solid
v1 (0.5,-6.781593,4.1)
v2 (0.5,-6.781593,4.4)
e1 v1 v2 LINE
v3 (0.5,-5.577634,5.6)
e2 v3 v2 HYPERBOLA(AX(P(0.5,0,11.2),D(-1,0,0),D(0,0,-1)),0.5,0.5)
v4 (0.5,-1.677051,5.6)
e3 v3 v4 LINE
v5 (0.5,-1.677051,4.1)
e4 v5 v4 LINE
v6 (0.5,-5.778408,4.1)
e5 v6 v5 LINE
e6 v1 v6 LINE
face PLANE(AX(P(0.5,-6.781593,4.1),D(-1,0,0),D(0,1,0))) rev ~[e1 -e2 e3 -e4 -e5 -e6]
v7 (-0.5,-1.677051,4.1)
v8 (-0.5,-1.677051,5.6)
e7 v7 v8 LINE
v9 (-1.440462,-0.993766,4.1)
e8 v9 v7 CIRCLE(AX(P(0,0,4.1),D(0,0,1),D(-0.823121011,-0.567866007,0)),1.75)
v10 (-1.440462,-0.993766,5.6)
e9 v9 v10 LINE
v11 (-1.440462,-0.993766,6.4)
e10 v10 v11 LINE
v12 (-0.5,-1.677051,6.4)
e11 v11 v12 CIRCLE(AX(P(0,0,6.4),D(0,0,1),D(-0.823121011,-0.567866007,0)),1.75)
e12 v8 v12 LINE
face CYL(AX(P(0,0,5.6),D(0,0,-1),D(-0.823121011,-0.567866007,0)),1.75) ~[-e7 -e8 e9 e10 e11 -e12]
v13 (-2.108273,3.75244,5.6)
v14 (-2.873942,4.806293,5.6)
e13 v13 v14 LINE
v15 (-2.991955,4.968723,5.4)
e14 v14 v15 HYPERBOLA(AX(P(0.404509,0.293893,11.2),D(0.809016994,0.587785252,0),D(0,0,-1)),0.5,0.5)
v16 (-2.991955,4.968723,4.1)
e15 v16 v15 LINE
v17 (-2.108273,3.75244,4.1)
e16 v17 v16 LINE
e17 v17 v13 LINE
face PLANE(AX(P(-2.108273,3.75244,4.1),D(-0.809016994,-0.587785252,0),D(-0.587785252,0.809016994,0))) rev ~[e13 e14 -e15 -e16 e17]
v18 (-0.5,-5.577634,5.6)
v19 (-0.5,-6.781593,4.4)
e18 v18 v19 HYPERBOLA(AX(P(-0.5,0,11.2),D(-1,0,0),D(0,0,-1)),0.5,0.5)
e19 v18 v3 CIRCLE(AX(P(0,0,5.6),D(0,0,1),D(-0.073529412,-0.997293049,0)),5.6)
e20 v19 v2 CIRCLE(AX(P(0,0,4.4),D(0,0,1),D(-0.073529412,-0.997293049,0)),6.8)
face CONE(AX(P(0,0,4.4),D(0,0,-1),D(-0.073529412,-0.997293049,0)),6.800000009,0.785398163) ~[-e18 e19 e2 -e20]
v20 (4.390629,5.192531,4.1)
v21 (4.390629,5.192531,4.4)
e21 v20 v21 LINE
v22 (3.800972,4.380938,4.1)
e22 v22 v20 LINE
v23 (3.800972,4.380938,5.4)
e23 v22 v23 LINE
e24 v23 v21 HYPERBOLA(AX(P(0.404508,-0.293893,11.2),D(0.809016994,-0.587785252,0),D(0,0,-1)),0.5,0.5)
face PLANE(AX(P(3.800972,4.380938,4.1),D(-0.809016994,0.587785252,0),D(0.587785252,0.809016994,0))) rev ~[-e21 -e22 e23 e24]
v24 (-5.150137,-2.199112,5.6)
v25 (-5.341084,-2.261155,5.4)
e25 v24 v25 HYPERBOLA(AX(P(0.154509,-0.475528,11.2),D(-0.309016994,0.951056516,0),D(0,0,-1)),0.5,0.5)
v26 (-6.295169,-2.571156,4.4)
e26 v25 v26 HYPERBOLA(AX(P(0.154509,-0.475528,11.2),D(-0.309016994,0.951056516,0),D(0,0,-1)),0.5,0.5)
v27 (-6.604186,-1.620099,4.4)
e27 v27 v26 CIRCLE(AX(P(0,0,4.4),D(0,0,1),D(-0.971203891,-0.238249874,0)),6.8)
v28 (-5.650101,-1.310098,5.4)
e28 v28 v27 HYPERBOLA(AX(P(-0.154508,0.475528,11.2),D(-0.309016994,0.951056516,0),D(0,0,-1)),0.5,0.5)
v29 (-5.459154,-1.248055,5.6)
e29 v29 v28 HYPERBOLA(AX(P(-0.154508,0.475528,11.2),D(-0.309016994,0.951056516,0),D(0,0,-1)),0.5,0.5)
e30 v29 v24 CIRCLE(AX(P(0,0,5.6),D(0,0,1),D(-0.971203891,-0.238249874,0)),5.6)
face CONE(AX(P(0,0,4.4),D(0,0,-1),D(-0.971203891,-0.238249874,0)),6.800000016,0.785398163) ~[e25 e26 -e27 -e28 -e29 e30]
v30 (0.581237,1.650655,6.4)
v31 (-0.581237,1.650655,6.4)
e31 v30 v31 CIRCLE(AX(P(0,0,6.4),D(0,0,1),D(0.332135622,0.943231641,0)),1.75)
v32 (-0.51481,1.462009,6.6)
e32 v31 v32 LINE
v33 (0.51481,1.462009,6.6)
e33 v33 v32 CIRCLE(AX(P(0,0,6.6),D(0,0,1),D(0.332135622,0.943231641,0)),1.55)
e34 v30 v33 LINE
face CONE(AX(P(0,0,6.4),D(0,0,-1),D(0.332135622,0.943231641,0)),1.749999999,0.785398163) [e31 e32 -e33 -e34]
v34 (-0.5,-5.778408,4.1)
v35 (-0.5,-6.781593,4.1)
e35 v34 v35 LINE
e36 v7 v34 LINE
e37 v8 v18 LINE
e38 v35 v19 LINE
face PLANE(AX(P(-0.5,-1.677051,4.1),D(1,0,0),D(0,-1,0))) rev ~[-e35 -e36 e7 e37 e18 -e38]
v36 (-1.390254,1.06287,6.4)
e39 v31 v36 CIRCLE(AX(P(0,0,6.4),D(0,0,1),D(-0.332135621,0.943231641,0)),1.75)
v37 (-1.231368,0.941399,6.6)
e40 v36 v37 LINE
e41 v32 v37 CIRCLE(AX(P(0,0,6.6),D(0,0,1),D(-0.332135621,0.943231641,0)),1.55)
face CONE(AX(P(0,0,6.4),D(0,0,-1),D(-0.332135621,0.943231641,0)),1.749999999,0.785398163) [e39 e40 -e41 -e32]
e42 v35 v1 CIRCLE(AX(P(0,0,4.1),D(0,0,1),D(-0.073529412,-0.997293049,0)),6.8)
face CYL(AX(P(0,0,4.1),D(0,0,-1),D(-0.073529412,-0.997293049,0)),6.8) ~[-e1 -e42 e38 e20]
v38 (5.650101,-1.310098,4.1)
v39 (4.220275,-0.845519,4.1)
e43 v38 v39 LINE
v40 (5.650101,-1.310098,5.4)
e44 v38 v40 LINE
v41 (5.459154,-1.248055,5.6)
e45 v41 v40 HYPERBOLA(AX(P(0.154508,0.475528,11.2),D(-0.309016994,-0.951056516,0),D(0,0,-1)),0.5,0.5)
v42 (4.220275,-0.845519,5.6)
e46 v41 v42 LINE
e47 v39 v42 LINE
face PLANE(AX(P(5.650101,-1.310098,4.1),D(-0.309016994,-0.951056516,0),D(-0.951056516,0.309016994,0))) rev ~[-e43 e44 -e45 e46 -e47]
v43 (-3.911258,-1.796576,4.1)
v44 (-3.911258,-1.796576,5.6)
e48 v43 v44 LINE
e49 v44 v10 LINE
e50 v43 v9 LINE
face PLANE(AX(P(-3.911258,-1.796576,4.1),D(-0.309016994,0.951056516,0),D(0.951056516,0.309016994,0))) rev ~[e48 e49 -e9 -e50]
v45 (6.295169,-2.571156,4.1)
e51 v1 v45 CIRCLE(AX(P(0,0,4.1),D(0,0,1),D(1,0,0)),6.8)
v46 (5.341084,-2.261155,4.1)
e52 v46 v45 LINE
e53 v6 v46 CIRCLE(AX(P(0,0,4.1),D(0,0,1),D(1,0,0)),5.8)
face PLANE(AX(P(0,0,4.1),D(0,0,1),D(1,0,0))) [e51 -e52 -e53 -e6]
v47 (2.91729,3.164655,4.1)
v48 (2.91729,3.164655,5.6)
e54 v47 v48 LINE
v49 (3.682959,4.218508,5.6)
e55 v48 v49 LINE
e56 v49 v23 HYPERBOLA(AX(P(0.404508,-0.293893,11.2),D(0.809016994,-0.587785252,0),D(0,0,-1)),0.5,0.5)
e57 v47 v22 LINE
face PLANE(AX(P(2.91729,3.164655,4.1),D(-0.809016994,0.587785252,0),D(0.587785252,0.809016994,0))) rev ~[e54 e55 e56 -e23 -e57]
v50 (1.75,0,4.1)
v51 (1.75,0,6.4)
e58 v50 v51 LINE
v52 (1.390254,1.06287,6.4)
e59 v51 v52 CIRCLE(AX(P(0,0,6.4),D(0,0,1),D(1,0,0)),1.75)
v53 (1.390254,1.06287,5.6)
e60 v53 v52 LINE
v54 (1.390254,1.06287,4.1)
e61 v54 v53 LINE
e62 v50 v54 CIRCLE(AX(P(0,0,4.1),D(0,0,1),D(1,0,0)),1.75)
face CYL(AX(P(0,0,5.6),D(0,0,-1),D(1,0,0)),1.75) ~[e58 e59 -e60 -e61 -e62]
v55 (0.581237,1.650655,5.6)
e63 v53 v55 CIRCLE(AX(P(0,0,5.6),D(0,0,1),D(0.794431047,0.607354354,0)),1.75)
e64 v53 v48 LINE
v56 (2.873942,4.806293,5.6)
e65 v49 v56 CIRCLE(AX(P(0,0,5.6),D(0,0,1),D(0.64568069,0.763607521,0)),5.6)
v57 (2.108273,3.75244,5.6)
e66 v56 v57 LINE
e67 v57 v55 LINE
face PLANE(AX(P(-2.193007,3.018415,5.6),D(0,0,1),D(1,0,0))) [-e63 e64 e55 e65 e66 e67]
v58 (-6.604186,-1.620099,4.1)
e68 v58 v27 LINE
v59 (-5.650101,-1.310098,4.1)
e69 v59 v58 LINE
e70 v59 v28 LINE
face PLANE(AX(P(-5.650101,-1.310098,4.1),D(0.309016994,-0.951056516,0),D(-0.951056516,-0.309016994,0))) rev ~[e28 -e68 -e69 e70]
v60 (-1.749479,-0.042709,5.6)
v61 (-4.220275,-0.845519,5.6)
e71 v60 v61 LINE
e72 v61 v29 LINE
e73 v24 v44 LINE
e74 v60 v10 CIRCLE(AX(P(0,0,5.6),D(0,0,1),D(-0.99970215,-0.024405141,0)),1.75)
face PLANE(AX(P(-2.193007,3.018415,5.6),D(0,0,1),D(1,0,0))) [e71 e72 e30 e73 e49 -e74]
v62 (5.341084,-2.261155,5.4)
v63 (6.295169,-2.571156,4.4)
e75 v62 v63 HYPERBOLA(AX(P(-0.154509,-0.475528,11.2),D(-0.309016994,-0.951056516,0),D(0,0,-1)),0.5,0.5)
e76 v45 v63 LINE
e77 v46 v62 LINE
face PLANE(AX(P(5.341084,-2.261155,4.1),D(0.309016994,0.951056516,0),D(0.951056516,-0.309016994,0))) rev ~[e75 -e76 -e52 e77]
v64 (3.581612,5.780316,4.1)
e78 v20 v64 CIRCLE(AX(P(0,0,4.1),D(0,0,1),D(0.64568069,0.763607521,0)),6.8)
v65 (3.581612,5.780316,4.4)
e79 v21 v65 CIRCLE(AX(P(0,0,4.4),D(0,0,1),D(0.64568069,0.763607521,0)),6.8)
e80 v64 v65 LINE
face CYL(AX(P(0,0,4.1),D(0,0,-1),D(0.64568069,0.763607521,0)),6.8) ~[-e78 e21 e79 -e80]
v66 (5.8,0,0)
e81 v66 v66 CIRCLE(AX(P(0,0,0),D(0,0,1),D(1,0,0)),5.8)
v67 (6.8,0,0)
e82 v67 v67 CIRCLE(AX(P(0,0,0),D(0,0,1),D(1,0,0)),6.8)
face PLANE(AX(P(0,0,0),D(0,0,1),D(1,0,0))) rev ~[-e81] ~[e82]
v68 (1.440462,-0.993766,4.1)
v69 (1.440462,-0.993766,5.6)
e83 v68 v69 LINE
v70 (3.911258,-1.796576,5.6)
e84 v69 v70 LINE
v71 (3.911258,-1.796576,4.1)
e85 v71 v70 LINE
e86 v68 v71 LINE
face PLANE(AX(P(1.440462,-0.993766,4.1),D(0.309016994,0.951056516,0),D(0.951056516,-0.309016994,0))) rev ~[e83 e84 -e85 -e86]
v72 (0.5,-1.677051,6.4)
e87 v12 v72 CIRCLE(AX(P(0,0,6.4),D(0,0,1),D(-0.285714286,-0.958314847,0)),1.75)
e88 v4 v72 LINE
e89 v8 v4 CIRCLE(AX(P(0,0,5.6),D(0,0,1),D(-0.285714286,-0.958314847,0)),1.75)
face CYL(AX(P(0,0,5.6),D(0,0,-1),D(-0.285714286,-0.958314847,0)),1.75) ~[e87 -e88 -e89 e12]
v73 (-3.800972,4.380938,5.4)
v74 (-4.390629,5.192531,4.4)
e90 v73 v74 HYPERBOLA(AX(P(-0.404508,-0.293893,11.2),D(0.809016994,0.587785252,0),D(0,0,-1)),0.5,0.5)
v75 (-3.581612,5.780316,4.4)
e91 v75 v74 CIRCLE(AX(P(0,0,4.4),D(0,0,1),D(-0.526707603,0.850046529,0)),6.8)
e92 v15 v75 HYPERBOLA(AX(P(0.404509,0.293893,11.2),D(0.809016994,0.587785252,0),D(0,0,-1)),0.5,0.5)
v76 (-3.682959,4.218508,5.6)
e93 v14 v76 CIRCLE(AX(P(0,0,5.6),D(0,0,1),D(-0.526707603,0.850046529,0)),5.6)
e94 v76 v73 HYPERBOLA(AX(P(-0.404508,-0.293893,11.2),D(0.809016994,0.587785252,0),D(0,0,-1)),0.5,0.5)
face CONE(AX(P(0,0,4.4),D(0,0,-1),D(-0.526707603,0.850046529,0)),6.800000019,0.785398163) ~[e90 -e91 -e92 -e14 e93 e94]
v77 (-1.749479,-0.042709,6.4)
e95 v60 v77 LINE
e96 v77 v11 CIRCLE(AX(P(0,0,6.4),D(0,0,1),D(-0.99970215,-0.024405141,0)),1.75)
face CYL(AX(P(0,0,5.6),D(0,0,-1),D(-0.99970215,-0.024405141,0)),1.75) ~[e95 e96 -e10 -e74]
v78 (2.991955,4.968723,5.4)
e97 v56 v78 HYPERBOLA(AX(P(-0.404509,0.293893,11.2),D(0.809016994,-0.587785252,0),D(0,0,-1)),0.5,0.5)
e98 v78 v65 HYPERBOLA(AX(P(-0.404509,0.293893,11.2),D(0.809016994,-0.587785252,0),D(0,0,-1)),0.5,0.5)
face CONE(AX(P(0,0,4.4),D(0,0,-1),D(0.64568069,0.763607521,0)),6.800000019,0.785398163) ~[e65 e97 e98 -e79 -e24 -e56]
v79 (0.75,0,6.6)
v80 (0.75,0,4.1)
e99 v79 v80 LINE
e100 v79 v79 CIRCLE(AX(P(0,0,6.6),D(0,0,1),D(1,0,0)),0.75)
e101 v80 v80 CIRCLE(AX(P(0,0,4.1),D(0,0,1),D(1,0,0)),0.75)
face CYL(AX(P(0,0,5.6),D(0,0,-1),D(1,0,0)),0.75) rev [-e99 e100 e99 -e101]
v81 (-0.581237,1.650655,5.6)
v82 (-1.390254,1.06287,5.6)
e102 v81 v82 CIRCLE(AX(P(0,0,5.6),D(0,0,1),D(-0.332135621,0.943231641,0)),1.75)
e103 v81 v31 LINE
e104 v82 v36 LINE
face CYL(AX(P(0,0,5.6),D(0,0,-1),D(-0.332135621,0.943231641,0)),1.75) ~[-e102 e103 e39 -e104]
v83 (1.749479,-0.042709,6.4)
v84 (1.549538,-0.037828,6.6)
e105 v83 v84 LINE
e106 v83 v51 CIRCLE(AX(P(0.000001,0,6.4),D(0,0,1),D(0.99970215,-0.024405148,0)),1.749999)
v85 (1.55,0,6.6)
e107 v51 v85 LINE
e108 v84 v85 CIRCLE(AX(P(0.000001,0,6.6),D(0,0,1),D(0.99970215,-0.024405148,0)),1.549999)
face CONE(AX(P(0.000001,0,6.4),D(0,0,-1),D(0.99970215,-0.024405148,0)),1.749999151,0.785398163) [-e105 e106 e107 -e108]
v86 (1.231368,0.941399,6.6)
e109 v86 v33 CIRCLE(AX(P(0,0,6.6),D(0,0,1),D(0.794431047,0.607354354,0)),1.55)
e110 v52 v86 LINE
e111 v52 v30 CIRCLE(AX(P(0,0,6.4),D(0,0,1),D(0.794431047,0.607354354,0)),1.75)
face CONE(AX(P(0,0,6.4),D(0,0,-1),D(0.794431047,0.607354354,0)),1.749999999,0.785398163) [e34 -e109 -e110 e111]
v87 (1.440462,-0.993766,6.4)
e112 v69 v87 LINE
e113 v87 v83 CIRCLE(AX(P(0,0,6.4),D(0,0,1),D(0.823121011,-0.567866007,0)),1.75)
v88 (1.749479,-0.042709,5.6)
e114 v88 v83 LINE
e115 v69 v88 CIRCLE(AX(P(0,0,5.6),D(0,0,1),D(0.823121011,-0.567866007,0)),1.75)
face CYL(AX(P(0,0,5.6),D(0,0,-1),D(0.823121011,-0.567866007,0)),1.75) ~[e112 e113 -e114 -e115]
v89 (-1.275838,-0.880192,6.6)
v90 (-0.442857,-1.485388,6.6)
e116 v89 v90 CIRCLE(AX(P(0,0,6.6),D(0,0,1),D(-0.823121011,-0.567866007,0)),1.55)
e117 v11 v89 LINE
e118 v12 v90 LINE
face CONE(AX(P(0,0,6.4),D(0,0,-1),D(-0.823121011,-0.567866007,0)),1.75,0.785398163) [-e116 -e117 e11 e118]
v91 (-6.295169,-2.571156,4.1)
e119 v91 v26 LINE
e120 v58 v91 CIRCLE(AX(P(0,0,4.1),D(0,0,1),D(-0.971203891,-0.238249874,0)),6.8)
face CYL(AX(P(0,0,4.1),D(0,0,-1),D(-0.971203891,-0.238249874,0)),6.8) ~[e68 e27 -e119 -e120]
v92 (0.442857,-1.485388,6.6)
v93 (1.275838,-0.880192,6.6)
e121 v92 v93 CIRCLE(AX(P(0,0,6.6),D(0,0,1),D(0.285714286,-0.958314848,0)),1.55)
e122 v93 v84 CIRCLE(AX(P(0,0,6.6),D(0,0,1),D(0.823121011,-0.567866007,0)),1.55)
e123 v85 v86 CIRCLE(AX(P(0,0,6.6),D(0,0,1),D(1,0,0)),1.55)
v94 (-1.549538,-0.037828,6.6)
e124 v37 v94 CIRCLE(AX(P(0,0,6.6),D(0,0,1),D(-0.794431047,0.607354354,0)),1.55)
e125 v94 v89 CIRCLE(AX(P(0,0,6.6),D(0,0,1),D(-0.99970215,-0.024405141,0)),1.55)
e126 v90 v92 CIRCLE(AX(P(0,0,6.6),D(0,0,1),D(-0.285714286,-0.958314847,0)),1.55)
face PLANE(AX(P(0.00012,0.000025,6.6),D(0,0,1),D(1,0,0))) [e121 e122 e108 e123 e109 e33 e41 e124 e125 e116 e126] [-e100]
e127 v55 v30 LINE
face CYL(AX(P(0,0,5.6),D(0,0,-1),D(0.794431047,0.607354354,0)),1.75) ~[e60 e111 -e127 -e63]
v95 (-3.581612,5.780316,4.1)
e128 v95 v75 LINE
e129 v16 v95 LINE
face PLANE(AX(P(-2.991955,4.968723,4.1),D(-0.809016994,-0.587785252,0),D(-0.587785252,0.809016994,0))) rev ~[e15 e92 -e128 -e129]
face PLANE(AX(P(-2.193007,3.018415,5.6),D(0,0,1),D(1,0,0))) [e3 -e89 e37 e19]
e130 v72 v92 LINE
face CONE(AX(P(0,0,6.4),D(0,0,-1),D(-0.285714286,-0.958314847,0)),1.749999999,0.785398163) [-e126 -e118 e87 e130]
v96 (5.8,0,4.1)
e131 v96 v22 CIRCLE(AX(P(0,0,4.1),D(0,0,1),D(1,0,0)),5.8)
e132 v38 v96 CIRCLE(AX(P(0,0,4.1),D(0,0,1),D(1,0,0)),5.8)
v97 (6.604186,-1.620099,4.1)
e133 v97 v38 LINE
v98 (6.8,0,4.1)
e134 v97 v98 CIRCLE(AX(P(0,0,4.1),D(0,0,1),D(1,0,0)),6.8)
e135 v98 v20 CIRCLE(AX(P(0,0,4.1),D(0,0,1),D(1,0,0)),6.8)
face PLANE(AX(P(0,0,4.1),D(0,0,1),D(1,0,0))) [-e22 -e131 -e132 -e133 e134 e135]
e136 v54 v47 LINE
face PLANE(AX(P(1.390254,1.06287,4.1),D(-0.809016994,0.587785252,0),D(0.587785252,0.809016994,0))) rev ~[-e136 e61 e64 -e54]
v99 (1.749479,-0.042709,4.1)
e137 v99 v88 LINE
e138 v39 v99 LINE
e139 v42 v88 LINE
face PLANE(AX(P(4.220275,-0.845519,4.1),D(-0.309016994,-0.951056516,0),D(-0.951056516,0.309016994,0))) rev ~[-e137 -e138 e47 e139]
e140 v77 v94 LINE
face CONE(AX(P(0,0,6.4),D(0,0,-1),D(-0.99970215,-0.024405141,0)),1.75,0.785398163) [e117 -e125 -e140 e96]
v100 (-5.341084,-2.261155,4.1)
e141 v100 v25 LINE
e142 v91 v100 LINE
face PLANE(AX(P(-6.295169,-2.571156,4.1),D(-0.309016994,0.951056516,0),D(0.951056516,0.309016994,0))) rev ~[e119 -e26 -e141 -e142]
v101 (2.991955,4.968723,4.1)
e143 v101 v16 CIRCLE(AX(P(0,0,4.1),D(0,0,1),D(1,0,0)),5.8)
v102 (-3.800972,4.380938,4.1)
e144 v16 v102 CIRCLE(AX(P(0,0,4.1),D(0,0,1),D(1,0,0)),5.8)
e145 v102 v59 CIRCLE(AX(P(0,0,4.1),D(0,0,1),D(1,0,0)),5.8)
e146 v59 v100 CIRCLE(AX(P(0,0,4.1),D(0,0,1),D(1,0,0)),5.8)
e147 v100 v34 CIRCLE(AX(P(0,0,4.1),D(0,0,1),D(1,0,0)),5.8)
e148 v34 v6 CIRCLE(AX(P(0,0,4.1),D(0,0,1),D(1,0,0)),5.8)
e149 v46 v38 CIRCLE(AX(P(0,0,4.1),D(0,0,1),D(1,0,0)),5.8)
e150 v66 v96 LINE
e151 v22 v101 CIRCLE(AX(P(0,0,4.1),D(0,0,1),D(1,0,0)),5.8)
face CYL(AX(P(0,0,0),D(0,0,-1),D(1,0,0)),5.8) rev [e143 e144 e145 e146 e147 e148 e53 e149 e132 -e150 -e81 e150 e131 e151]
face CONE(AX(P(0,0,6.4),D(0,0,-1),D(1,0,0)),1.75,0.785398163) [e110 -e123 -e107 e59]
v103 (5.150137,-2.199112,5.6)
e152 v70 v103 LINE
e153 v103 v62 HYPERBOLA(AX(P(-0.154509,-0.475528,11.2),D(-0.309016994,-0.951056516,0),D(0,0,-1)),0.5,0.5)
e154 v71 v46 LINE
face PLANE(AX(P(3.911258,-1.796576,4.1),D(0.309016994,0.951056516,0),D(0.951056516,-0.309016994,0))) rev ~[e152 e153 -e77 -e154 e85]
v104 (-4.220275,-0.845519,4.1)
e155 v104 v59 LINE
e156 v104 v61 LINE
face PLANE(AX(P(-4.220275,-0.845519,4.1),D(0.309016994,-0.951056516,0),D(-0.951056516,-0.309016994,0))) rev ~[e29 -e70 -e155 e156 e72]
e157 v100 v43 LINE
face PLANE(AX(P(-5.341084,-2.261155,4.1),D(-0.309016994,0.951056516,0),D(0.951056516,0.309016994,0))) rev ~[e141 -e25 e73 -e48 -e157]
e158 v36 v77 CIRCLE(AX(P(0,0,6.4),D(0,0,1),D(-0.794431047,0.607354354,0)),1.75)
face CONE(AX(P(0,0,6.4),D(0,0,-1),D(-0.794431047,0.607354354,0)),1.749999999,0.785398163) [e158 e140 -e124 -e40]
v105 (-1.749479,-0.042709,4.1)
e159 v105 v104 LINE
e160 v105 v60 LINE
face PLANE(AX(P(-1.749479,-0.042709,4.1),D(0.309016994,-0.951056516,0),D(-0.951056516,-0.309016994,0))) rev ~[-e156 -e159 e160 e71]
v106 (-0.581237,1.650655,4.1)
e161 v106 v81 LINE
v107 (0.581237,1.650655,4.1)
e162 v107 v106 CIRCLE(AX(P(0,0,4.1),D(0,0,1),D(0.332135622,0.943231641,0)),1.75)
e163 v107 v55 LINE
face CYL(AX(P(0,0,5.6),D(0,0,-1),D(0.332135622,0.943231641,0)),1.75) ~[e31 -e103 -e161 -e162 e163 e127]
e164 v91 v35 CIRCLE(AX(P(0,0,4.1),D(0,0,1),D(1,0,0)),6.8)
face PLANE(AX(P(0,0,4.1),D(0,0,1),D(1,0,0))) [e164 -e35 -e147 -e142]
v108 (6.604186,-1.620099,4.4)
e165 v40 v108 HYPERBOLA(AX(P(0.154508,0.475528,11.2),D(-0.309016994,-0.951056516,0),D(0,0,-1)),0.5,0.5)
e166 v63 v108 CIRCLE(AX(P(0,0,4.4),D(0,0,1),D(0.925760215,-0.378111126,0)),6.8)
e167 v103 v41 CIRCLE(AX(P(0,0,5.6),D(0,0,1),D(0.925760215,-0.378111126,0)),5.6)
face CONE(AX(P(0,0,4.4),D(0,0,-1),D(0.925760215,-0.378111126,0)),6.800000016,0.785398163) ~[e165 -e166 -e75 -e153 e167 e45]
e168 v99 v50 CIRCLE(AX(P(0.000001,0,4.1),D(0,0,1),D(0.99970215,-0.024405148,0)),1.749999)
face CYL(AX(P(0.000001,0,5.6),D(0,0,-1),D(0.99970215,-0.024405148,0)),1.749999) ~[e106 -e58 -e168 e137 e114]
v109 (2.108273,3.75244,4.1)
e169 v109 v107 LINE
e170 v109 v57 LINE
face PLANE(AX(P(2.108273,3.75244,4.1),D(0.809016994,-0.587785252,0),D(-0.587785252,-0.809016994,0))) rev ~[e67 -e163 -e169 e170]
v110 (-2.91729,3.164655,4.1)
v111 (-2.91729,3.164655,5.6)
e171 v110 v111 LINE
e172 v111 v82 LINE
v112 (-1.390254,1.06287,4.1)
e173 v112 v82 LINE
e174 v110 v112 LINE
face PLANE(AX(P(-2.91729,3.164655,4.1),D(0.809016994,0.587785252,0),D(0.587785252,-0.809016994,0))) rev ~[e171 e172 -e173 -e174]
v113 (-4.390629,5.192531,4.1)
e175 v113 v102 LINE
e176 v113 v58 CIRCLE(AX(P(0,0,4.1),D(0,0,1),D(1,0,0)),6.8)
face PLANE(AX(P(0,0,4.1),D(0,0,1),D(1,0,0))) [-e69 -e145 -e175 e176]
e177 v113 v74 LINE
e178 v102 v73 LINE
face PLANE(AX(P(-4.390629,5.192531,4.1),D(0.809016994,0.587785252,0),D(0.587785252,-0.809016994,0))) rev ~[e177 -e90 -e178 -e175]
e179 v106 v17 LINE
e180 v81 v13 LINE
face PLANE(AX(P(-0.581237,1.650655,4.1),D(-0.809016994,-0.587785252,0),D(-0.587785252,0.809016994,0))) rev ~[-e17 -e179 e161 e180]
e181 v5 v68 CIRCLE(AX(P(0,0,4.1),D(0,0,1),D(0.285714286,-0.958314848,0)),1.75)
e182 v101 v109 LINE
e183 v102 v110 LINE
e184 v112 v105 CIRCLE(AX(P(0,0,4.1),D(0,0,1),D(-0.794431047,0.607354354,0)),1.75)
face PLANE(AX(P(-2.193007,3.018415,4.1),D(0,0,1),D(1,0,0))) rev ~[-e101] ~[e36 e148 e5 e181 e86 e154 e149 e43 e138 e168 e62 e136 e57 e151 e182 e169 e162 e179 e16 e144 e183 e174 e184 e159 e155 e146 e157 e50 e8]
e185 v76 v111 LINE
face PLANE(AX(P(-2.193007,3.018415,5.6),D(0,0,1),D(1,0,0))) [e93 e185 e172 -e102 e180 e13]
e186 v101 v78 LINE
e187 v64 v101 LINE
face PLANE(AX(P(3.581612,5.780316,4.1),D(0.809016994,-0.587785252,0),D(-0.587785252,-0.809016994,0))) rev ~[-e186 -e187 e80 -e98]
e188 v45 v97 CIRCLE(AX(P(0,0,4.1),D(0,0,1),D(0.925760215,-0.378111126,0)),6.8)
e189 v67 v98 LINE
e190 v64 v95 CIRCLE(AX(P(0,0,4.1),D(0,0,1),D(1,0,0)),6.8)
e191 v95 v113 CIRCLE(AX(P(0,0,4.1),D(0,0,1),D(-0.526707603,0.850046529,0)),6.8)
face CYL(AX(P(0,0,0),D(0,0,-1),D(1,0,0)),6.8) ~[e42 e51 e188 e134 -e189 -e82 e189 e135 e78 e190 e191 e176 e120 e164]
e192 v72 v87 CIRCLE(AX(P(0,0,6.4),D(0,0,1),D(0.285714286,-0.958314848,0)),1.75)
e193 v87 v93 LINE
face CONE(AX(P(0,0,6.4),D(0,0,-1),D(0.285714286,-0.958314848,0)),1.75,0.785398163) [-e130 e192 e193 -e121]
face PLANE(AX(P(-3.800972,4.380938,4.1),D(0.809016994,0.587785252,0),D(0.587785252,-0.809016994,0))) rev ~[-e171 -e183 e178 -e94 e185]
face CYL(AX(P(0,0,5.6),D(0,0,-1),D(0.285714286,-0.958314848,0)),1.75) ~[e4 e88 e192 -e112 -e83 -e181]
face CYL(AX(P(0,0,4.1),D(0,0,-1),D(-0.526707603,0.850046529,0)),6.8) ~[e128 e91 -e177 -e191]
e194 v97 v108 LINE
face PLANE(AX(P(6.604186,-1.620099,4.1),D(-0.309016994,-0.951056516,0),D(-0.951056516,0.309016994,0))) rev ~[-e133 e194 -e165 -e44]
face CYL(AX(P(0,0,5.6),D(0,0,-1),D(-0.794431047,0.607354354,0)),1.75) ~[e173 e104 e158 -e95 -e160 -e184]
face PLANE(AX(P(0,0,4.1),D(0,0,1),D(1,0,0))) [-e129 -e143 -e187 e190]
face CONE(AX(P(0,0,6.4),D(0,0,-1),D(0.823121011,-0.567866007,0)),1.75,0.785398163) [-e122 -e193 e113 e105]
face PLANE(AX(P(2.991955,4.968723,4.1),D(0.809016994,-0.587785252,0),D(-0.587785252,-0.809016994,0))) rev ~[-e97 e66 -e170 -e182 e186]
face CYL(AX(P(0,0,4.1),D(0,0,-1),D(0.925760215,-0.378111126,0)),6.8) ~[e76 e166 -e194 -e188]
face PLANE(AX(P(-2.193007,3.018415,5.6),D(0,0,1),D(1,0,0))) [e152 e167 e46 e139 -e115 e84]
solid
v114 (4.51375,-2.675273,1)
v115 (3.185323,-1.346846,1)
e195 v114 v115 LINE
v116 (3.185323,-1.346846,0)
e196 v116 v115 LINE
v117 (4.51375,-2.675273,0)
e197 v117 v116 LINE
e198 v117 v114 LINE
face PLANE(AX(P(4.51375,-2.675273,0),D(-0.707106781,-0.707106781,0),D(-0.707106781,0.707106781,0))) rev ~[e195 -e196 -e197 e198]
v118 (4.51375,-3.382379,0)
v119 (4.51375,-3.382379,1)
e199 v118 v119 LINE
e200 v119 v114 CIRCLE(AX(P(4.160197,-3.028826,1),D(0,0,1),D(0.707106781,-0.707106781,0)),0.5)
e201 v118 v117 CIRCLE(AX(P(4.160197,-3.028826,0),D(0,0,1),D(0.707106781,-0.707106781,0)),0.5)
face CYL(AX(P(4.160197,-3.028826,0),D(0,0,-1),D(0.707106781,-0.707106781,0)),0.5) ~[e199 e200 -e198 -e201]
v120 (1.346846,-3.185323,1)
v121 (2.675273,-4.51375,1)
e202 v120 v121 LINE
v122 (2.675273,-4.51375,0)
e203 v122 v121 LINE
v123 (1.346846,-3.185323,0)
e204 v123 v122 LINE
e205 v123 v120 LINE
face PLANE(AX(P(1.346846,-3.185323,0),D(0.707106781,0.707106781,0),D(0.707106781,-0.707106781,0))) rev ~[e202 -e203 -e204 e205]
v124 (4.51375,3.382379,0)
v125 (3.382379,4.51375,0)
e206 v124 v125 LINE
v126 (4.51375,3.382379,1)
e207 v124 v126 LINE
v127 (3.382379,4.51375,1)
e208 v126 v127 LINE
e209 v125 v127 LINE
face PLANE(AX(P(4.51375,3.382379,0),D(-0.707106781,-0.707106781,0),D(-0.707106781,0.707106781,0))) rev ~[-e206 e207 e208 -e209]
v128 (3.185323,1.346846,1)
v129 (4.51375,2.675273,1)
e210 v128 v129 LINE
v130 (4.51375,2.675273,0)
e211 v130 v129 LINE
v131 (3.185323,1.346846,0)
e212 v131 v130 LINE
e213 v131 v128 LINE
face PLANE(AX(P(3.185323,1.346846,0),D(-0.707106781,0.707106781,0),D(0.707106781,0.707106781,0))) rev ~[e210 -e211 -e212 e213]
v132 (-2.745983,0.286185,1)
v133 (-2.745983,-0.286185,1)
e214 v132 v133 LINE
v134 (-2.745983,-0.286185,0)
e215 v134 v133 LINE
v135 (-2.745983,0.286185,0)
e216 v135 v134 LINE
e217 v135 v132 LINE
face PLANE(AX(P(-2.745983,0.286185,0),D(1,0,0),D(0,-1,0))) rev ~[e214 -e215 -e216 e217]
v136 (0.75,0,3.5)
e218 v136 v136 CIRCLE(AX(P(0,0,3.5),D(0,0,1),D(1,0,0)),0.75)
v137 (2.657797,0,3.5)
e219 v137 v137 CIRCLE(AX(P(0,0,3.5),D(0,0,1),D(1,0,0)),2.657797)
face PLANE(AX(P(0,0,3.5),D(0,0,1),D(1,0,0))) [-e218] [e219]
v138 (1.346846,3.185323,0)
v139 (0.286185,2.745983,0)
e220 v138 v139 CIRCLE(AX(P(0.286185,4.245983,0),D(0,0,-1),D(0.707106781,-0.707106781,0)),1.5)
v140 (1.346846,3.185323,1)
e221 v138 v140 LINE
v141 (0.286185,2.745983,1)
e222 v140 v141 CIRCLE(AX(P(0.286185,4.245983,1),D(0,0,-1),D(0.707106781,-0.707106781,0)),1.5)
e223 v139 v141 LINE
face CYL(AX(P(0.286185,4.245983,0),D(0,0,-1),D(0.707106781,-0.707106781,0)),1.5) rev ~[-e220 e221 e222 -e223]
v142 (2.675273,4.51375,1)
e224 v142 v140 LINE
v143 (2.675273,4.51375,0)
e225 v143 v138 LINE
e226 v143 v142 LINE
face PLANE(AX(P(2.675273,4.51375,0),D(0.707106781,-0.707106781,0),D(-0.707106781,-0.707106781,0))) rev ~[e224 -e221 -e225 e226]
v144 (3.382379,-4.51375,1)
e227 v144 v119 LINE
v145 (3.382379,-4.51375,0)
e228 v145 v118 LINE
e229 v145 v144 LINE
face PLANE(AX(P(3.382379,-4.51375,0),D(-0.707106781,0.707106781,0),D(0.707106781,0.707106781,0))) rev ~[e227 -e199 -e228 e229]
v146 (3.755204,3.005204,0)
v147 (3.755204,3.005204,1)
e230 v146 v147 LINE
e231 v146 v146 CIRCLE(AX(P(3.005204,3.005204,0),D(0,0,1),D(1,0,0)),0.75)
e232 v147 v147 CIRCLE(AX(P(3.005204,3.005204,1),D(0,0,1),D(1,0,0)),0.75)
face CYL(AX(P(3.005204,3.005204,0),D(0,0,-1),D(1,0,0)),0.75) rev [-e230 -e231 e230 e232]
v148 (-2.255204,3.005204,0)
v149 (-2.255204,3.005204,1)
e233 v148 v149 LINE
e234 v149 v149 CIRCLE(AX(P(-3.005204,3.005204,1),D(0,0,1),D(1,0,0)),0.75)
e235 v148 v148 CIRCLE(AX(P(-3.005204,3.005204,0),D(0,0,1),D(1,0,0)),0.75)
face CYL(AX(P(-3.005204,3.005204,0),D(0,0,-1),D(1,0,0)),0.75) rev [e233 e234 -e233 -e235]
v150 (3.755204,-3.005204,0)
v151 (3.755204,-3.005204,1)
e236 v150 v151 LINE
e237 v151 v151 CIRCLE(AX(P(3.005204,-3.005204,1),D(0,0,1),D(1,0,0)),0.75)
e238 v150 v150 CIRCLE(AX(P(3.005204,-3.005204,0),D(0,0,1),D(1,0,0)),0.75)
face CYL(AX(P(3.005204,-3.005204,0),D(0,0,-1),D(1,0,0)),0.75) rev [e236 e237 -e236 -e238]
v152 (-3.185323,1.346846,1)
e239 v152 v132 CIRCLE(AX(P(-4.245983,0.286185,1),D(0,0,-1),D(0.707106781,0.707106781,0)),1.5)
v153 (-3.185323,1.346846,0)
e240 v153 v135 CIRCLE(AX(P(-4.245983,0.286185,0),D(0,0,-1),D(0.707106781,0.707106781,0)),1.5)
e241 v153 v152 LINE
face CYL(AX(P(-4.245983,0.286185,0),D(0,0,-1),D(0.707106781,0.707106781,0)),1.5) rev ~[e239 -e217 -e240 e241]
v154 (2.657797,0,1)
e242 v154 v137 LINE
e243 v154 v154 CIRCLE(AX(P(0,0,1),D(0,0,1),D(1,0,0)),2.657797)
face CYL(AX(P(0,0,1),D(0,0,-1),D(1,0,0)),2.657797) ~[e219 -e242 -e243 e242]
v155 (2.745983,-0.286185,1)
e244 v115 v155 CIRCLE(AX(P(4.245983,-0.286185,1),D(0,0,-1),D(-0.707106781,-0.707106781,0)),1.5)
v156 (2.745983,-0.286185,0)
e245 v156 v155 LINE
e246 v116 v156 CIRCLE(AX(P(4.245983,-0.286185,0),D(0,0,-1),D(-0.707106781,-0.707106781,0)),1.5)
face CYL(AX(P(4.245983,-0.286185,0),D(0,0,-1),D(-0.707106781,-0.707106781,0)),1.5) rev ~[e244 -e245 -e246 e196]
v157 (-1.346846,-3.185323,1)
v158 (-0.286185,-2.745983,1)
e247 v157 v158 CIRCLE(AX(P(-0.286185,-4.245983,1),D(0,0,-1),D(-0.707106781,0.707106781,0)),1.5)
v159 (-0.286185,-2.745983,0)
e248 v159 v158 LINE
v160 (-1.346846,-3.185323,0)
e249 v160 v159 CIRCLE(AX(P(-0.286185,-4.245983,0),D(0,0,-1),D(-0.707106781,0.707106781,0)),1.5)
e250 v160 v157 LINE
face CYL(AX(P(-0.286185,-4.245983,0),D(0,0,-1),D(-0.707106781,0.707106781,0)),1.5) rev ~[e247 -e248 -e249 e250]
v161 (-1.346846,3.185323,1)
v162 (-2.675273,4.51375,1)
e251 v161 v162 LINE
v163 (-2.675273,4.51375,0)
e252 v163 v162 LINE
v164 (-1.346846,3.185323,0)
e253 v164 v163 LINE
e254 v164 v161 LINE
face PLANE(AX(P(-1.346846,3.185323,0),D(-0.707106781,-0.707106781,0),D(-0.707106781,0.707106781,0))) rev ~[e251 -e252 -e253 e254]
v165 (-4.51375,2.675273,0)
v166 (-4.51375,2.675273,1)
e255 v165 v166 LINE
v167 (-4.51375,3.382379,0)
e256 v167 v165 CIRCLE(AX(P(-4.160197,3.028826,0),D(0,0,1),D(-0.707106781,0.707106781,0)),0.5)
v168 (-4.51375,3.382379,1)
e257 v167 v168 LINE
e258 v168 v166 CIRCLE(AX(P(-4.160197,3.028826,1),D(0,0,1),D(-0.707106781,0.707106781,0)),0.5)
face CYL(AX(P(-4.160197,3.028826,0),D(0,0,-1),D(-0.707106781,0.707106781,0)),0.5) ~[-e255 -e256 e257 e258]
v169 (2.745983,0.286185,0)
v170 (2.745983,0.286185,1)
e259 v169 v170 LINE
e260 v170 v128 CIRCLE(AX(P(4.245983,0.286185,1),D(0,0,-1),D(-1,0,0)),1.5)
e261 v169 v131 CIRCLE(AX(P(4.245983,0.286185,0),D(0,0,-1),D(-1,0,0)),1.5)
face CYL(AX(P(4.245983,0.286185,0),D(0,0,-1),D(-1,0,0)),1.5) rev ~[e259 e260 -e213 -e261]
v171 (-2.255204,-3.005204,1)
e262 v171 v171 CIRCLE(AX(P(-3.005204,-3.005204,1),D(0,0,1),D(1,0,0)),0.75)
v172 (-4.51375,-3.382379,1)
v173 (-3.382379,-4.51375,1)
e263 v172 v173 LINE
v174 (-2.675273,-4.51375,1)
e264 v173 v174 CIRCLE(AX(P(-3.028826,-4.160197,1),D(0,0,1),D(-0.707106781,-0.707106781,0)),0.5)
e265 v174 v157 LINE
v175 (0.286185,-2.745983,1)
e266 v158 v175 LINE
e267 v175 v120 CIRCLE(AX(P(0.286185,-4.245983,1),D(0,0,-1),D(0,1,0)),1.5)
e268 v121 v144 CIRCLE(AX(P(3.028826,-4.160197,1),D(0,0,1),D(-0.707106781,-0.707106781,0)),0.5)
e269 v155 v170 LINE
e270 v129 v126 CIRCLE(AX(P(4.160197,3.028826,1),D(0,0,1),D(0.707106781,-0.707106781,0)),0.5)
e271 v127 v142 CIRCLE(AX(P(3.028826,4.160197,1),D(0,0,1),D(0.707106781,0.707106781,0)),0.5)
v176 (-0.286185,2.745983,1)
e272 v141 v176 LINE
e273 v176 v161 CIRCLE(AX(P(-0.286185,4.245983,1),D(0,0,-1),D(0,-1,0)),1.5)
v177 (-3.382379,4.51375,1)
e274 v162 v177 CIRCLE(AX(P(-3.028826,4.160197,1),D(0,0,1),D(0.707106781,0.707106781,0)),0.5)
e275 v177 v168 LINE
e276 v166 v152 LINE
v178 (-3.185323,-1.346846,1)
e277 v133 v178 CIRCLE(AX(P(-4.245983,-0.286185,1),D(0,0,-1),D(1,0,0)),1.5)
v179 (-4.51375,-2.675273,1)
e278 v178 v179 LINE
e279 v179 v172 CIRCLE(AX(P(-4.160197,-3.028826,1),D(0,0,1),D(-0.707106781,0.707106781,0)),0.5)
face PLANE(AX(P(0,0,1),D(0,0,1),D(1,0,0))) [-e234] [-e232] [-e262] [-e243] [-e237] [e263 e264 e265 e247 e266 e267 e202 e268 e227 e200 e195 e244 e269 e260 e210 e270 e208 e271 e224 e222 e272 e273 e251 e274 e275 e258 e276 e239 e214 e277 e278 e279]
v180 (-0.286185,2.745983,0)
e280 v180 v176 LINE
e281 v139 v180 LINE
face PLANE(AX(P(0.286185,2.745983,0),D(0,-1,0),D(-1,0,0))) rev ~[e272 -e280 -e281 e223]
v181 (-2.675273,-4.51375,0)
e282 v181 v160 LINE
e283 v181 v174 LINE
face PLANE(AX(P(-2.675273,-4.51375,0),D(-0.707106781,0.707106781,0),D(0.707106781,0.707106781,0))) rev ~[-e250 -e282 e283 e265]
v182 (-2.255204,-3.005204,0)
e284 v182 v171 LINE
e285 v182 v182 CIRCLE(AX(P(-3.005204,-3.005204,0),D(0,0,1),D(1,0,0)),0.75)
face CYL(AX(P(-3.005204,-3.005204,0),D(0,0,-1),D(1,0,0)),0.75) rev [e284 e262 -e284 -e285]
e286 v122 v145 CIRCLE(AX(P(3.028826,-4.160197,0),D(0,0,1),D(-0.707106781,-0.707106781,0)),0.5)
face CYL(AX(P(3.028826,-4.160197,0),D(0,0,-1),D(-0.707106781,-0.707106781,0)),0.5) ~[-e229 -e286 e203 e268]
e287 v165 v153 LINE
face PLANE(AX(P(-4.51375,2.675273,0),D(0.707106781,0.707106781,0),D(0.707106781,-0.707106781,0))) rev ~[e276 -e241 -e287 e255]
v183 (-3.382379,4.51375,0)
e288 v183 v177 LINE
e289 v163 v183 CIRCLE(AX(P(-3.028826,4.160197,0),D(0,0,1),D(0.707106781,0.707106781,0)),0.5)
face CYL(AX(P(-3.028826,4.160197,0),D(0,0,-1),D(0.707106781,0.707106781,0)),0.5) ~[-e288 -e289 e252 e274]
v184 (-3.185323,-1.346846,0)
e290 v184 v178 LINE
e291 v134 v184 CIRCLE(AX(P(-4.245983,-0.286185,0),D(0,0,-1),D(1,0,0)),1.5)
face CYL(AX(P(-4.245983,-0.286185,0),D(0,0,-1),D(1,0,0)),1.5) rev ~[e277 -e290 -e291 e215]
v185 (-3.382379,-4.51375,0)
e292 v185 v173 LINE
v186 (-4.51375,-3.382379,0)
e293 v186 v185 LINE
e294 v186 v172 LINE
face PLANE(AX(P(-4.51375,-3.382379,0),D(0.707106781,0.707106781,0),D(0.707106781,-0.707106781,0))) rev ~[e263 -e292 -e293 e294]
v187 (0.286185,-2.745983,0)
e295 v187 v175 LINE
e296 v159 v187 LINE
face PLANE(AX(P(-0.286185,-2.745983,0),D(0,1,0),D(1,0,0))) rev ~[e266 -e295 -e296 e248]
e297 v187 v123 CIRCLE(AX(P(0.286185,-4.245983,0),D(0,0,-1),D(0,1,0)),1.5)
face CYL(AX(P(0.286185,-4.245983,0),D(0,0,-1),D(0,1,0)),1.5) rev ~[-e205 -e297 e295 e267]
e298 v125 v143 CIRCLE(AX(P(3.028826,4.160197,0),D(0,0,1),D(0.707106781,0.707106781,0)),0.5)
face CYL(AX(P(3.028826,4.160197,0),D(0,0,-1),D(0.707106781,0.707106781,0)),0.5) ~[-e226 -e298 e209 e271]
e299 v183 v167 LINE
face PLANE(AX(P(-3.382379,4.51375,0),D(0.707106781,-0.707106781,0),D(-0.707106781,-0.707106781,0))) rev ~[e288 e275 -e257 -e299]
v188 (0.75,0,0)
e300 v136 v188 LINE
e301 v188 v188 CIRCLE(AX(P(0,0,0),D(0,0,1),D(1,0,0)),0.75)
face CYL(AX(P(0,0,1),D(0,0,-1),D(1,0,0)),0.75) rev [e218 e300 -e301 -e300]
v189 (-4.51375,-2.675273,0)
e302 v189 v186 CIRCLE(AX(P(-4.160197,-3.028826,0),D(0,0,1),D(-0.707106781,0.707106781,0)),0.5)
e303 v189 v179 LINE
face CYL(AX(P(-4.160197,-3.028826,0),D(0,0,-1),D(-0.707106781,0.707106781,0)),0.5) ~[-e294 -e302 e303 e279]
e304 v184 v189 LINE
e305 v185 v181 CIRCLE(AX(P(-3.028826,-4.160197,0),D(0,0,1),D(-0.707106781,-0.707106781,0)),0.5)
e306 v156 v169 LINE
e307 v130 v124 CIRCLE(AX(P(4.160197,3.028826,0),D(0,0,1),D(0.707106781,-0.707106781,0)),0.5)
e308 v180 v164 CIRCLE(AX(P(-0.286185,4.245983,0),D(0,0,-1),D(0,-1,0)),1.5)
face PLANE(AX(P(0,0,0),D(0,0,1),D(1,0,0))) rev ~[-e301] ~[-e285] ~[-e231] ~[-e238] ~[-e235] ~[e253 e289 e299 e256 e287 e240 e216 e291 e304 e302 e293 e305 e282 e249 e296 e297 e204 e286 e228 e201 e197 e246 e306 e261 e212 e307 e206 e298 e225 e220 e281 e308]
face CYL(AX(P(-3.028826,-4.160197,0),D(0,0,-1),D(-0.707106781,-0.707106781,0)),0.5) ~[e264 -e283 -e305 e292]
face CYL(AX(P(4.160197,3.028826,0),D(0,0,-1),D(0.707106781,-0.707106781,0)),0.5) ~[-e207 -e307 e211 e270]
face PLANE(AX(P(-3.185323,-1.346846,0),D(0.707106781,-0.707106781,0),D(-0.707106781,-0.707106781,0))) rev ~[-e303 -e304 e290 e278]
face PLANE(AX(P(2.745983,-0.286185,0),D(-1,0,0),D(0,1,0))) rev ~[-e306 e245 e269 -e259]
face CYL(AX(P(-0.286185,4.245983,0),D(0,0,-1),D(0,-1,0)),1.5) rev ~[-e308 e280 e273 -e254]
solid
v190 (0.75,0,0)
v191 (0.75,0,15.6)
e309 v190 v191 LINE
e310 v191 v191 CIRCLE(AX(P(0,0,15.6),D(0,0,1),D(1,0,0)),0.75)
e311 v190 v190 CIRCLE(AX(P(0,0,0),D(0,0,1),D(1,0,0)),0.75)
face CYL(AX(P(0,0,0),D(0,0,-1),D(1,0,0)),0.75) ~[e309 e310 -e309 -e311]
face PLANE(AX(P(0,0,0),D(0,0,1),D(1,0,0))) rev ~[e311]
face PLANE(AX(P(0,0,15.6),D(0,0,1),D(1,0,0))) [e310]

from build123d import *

# Parameters (mm, degrees)
F0_R      = 0.75
F1_DEPTH  = 1
F2_R      = 6.8
F2_R_2    = 5.8
F3_DEPTH  = 4.1
F4_R      = 2.6577966349
F4_R_2    = 0.75
F5_DEPTH  = 2.5
F6_R      = 0.75
F7_DEPTH  = 1.5
F8_SIZE   = 1.2
F9_R      = 0.75
F10_DEPTH = 15.6
F11_R     = 0.75
F12_DEPTH = 1
F13_SIZE  = 0.2


with BuildPart() as f1:
    # F0 (on Top) → F1 (new body)
    with BuildSketch(Plane.XY):
        with BuildLine():
            Line((4.5137502952, 3.3823794453), (3.3823794453, 4.5137502952))
            ThreePointArc((3.3823794453, 4.5137502952), (3.0288260547, 4.6601969046), (2.6752726641, 4.5137502952))
            Line((2.6752726641, 4.5137502952), (1.3468455393, 3.1853231704))
            ThreePointArc((1.3468455393, 3.1853231704), (0.8602105161, 2.8601640434), (0.2861853675, 2.7459833422))
            Line((0.2861853675, 2.7459833422), (-0.2861853675, 2.7459833422))
            ThreePointArc((-0.2861853675, 2.7459833422), (-0.8602105161, 2.8601640434), (-1.3468455393, 3.1853231704))
            Line((-1.3468455393, 3.1853231704), (-2.6752726641, 4.5137502952))
            ThreePointArc((-2.6752726641, 4.5137502952), (-3.0288260547, 4.6601969046), (-3.3823794453, 4.5137502952))
            Line((-3.3823794453, 4.5137502952), (-4.5137502952, 3.3823794453))
            ThreePointArc((-4.5137502952, 3.3823794453), (-4.6601969046, 3.0288260547), (-4.5137502952, 2.6752726641))
            Line((-4.5137502952, 2.6752726641), (-3.1853231704, 1.3468455393))
            ThreePointArc((-3.1853231704, 1.3468455393), (-2.8601640434, 0.8602105161), (-2.7459833422, 0.2861853675))
            Line((-2.7459833422, 0.2861853675), (-2.7459833422, -0.2861853675))
            ThreePointArc((-2.7459833422, -0.2861853675), (-2.8601640434, -0.8602105161), (-3.1853231704, -1.3468455393))
            Line((-3.1853231704, -1.3468455393), (-4.5137502952, -2.6752726641))
            ThreePointArc((-4.5137502952, -2.6752726641), (-4.6601969046, -3.0288260547), (-4.5137502952, -3.3823794453))
            Line((-4.5137502952, -3.3823794453), (-3.3823794453, -4.5137502952))
            ThreePointArc((-3.3823794453, -4.5137502952), (-3.0288260547, -4.6601969046), (-2.6752726641, -4.5137502952))
            Line((-2.6752726641, -4.5137502952), (-1.3468455393, -3.1853231704))
            ThreePointArc((-1.3468455393, -3.1853231704), (-0.8602105161, -2.8601640434), (-0.2861853675, -2.7459833422))
            Line((-0.2861853675, -2.7459833422), (0.2861853675, -2.7459833422))
            ThreePointArc((0.2861853675, -2.7459833422), (0.8602105161, -2.8601640434), (1.3468455393, -3.1853231704))
            Line((1.3468455393, -3.1853231704), (2.6752726641, -4.5137502952))
            ThreePointArc((2.6752726641, -4.5137502952), (3.0288260547, -4.6601969046), (3.3823794453, -4.5137502952))
            Line((3.3823794453, -4.5137502952), (4.5137502952, -3.3823794453))
            ThreePointArc((4.5137502952, -3.3823794453), (4.6601969046, -3.0288260547), (4.5137502952, -2.6752726641))
            Line((4.5137502952, -2.6752726641), (3.1853231704, -1.3468455393))
            ThreePointArc((3.1853231704, -1.3468455393), (2.8601640434, -0.8602105161), (2.7459833422, -0.2861853675))
            Line((2.7459833422, -0.2861853675), (2.7459833422, 0.2861853675))
            ThreePointArc((2.7459833422, 0.2861853675), (2.8601640434, 0.8602105161), (3.1853231704, 1.3468455393))
            Line((3.1853231704, 1.3468455393), (4.5137502952, 2.6752726641))
            ThreePointArc((4.5137502952, 2.6752726641), (4.6601969046, 3.0288260547), (4.5137502952, 3.3823794453))
        make_face()
        with Locations((-3.00520382, -3.00520382)):
            Circle(F0_R, mode=Mode.SUBTRACT)
        with Locations((3.00520382, -3.00520382)):
            Circle(F0_R, mode=Mode.SUBTRACT)
        with Locations((-3.00520382, 3.00520382)):
            Circle(F0_R, mode=Mode.SUBTRACT)
        Circle(F0_R, mode=Mode.SUBTRACT)
        with Locations((3.00520382, 3.00520382)):
            Circle(F0_R, mode=Mode.SUBTRACT)
    extrude(amount=F1_DEPTH)

    # F4 (on face) → F5 (join)
    with BuildSketch(Plane.XY.offset(1)):
        Circle(F4_R)
        Circle(F4_R_2, mode=Mode.SUBTRACT)
    extrude(amount=F5_DEPTH)


with BuildPart() as f3:
    # F2 (on Top) → F3 (new body)
    with BuildSketch(Plane.XY):
        Circle(F2_R)
        Circle(F2_R_2, mode=Mode.SUBTRACT)
    extrude(amount=F3_DEPTH)

    # F6 (on face) → F7 (join)
    with BuildSketch(Plane.XY.offset(4.1)):
        with BuildLine():
            ThreePointArc((-1.3902543324, 1.0628701196), (-1.0286241915, 1.4157797402), (-0.581237338, 1.6506553719))
            Line((-0.581237338, 1.6506553719), (-2.1082734564, 3.7524402771))
            Line((-2.1082734564, 3.7524402771), (-2.9919545571, 4.9687229676))
            ThreePointArc((-2.9919545571, 4.9687229676), (-3.4091544633, 4.6922985674), (-3.8009715514, 4.3809377153))
            Line((-3.8009715514, 4.3809377153), (-2.9172904507, 3.1646550248))
            Line((-2.9172904507, 3.1646550248), (-1.3902543324, 1.0628701196))
        make_face()
        with BuildLine():
            ThreePointArc((-3.8009715514, 4.3809377153), (-3.4091544633, 4.6922985674), (-2.9919545571, 4.9687229676))
            Line((-2.9919545571, 4.9687229676), (-3.5816116985, 5.7803163963))
            ThreePointArc((-3.5816116985, 5.7803163963), (-3.9969397156, 5.5013155617), (-4.3906286929, 5.192531144))
            Line((-4.3906286929, 5.192531144), (-3.8009715514, 4.3809377153))
        make_face()
        with BuildLine():
            ThreePointArc((0.581237338, 1.6506553719), (1.0286241915, 1.4157797402), (1.3902543324, 1.0628701196))
            Line((1.3902543324, 1.0628701196), (2.9172904507, 3.1646550248))
            Line((2.9172904507, 3.1646550248), (3.8009715514, 4.3809377153))
            ThreePointArc((3.8009715514, 4.3809377153), (3.4091544633, 4.6922985674), (2.9919545571, 4.9687229676))
            Line((2.9919545571, 4.9687229676), (2.1082734564, 3.7524402771))
            Line((2.1082734564, 3.7524402771), (0.581237338, 1.6506553719))
        make_face()
        with BuildLine():
            ThreePointArc((2.9919545571, 4.9687229676), (3.4091544633, 4.6922985674), (3.8009715514, 4.3809377153))
            Line((3.8009715514, 4.3809377153), (4.3906286929, 5.192531144))
            ThreePointArc((4.3906286929, 5.192531144), (3.9969397156, 5.5013155617), (3.5816116985, 5.7803163963))
            Line((3.5816116985, 5.7803163963), (2.9919545571, 4.9687229676))
        make_face()
        with BuildLine():
            Line((4.2202751043, -0.8455193928), (1.7494787628, -0.0427089961))
            ThreePointArc((1.7494787628, -0.0427089961), (1.6643489035, -0.5407797402), (1.4404617685, -0.9937655124))
            Line((1.4404617685, -0.9937655124), (3.91125811, -1.7965759091))
            Line((3.91125811, -1.7965759091), (5.3410841661, -2.2611545569))
            ThreePointArc((5.3410841661, -2.2611545569), (5.5161277945, -1.7922985674), (5.6501011605, -1.3100980406))
            Line((5.6501011605, -1.3100980406), (4.2202751043, -0.8455193928))
        make_face()
        with BuildLine():
            Line((6.604186457, -1.6200991454), (5.6501011605, -1.3100980406))
            ThreePointArc((5.6501011605, -1.3100980406), (5.5161277945, -1.7922985674), (5.3410841661, -2.2611545569))
            Line((5.3410841661, -2.2611545569), (6.2951694627, -2.5711556617))
            ThreePointArc((6.2951694627, -2.5711556617), (6.4671843108, -2.1013155617), (6.604186457, -1.6200991454))
        make_face()
        with BuildLine():
            Line((0.5, -4.275), (0.5, -1.6770509831))
            ThreePointArc((0.5, -1.6770509831), (0, -1.75), (-0.5, -1.6770509831))
            Line((-0.5, -1.6770509831), (-0.5, -4.275))
            Line((-0.5, -4.275), (-0.5, -5.7784080853))
            ThreePointArc((-0.5, -5.7784080853), (0, -5.8), (0.5, -5.7784080853))
            Line((0.5, -5.7784080853), (0.5, -4.275))
        make_face()
        with BuildLine():
            ThreePointArc((-1.4404617685, -0.9937655124), (-1.6643489035, -0.5407797402), (-1.7494787628, -0.0427089961))
            Line((-1.7494787628, -0.0427089961), (-4.2202751043, -0.8455193928))
            Line((-4.2202751043, -0.8455193928), (-5.6501011605, -1.3100980406))
            ThreePointArc((-5.6501011605, -1.3100980406), (-5.5161277945, -1.7922985674), (-5.3410841661, -2.2611545569))
            Line((-5.3410841661, -2.2611545569), (-3.91125811, -1.7965759091))
            Line((-3.91125811, -1.7965759091), (-1.4404617685, -0.9937655124))
        make_face()
        with BuildLine():
            ThreePointArc((-5.3410841661, -2.2611545569), (-5.5161277945, -1.7922985674), (-5.6501011605, -1.3100980406))
            Line((-5.6501011605, -1.3100980406), (-6.604186457, -1.6200991454))
            ThreePointArc((-6.604186457, -1.6200991454), (-6.4671843108, -2.1013155617), (-6.2951694627, -2.5711556617))
            Line((-6.2951694627, -2.5711556617), (-5.3410841661, -2.2611545569))
        make_face()
        with BuildLine():
            ThreePointArc((1.7494787628, -0.0427089961), (1.7498696859, -0.0213560883), (1.75, 0))
            ThreePointArc((1.75, 0), (1.6576255732, 0.5610503178), (1.3902543324, 1.0628701196))
            ThreePointArc((1.3902543324, 1.0628701196), (1.0286241915, 1.4157797402), (0.581237338, 1.6506553719))
            ThreePointArc((0.581237338, 1.6506553719), (0, 1.75), (-0.581237338, 1.6506553719))
            ThreePointArc((-0.581237338, 1.6506553719), (-1.0286241915, 1.4157797402), (-1.3902543324, 1.0628701196))
            ThreePointArc((-1.3902543324, 1.0628701196), (-1.6643489035, 0.5407797402), (-1.7494787628, -0.0427089961))
            ThreePointArc((-1.7494787628, -0.0427089961), (-1.6643489035, -0.5407797402), (-1.4404617685, -0.9937655124))
            ThreePointArc((-1.4404617685, -0.9937655124), (-1.0286241915, -1.4157797402), (-0.5, -1.6770509831))
            ThreePointArc((-0.5, -1.6770509831), (0, -1.75), (0.5, -1.6770509831))
            ThreePointArc((0.5, -1.6770509831), (1.0286241915, -1.4157797402), (1.4404617685, -0.9937655124))
            ThreePointArc((1.4404617685, -0.9937655124), (1.6643489035, -0.5407797402), (1.7494787628, -0.0427089961))
        make_face()
        Circle(F6_R, mode=Mode.SUBTRACT)
        with BuildLine():
            Line((0.5, -6.7815927333), (0.5, -5.7784080853))
            ThreePointArc((0.5, -5.7784080853), (0, -5.8), (-0.5, -5.7784080853))
            Line((-0.5, -5.7784080853), (-0.5, -6.7815927333))
            ThreePointArc((-0.5, -6.7815927333), (0, -6.8), (0.5, -6.7815927333))
        make_face()
    extrude(amount=F7_DEPTH)

    # F8
    f8_edges = [f3.edges().sort_by_distance(p)[0] for p in [
        (-6.467184, -2.101316, 5.6),
        (-3.99694, 5.501316, 5.6),
        (3.99694, 5.501316, 5.6),
        (6.467184, -2.101316, 5.6),
        (0, -6.8, 5.6),
    ]]
    chamfer(f8_edges, length=F8_SIZE)

    # F11 (on face) → F12 (join)
    with BuildSketch(Plane.XY.offset(5.6)):
        with BuildLine():
            ThreePointArc((1.7494787628, -0.0427089961), (1.7498696859, -0.0213560883), (1.75, 0))
            ThreePointArc((1.75, 0), (1.6576255732, 0.5610503178), (1.3902543324, 1.0628701196))
            ThreePointArc((1.3902543324, 1.0628701196), (1.0286241915, 1.4157797402), (0.581237338, 1.6506553719))
            ThreePointArc((0.581237338, 1.6506553719), (0, 1.75), (-0.581237338, 1.6506553719))
            ThreePointArc((-0.581237338, 1.6506553719), (-1.0286241915, 1.4157797402), (-1.3902543324, 1.0628701196))
            ThreePointArc((-1.3902543324, 1.0628701196), (-1.6643489035, 0.5407797402), (-1.7494787628, -0.0427089961))
            ThreePointArc((-1.7494787628, -0.0427089961), (-1.6643489035, -0.5407797402), (-1.4404617685, -0.9937655124))
            ThreePointArc((-1.4404617685, -0.9937655124), (-1.0286241915, -1.4157797402), (-0.5, -1.6770509831))
            ThreePointArc((-0.5, -1.6770509831), (0, -1.75), (0.5, -1.6770509831))
            ThreePointArc((0.5, -1.6770509831), (1.0286241915, -1.4157797402), (1.4404617685, -0.9937655124))
            ThreePointArc((1.4404617685, -0.9937655124), (1.6643489035, -0.5407797402), (1.7494787628, -0.0427089961))
        make_face()
        Circle(F11_R, mode=Mode.SUBTRACT)
    extrude(amount=F12_DEPTH)

    # F13
    f13_edges = [f3.edges().sort_by_distance(p)[0] for p in [
        (1.749479, 0.042709, 6.6),
    ]]
    chamfer(f13_edges, length=F13_SIZE)


with BuildPart() as f10:
    # F9 (on Top) → F10 (new body)
    with BuildSketch(Plane.XY):
        Circle(F9_R)
    extrude(amount=F10_DEPTH)


solid = Compound([f1.part, f3.part, f10.part])
